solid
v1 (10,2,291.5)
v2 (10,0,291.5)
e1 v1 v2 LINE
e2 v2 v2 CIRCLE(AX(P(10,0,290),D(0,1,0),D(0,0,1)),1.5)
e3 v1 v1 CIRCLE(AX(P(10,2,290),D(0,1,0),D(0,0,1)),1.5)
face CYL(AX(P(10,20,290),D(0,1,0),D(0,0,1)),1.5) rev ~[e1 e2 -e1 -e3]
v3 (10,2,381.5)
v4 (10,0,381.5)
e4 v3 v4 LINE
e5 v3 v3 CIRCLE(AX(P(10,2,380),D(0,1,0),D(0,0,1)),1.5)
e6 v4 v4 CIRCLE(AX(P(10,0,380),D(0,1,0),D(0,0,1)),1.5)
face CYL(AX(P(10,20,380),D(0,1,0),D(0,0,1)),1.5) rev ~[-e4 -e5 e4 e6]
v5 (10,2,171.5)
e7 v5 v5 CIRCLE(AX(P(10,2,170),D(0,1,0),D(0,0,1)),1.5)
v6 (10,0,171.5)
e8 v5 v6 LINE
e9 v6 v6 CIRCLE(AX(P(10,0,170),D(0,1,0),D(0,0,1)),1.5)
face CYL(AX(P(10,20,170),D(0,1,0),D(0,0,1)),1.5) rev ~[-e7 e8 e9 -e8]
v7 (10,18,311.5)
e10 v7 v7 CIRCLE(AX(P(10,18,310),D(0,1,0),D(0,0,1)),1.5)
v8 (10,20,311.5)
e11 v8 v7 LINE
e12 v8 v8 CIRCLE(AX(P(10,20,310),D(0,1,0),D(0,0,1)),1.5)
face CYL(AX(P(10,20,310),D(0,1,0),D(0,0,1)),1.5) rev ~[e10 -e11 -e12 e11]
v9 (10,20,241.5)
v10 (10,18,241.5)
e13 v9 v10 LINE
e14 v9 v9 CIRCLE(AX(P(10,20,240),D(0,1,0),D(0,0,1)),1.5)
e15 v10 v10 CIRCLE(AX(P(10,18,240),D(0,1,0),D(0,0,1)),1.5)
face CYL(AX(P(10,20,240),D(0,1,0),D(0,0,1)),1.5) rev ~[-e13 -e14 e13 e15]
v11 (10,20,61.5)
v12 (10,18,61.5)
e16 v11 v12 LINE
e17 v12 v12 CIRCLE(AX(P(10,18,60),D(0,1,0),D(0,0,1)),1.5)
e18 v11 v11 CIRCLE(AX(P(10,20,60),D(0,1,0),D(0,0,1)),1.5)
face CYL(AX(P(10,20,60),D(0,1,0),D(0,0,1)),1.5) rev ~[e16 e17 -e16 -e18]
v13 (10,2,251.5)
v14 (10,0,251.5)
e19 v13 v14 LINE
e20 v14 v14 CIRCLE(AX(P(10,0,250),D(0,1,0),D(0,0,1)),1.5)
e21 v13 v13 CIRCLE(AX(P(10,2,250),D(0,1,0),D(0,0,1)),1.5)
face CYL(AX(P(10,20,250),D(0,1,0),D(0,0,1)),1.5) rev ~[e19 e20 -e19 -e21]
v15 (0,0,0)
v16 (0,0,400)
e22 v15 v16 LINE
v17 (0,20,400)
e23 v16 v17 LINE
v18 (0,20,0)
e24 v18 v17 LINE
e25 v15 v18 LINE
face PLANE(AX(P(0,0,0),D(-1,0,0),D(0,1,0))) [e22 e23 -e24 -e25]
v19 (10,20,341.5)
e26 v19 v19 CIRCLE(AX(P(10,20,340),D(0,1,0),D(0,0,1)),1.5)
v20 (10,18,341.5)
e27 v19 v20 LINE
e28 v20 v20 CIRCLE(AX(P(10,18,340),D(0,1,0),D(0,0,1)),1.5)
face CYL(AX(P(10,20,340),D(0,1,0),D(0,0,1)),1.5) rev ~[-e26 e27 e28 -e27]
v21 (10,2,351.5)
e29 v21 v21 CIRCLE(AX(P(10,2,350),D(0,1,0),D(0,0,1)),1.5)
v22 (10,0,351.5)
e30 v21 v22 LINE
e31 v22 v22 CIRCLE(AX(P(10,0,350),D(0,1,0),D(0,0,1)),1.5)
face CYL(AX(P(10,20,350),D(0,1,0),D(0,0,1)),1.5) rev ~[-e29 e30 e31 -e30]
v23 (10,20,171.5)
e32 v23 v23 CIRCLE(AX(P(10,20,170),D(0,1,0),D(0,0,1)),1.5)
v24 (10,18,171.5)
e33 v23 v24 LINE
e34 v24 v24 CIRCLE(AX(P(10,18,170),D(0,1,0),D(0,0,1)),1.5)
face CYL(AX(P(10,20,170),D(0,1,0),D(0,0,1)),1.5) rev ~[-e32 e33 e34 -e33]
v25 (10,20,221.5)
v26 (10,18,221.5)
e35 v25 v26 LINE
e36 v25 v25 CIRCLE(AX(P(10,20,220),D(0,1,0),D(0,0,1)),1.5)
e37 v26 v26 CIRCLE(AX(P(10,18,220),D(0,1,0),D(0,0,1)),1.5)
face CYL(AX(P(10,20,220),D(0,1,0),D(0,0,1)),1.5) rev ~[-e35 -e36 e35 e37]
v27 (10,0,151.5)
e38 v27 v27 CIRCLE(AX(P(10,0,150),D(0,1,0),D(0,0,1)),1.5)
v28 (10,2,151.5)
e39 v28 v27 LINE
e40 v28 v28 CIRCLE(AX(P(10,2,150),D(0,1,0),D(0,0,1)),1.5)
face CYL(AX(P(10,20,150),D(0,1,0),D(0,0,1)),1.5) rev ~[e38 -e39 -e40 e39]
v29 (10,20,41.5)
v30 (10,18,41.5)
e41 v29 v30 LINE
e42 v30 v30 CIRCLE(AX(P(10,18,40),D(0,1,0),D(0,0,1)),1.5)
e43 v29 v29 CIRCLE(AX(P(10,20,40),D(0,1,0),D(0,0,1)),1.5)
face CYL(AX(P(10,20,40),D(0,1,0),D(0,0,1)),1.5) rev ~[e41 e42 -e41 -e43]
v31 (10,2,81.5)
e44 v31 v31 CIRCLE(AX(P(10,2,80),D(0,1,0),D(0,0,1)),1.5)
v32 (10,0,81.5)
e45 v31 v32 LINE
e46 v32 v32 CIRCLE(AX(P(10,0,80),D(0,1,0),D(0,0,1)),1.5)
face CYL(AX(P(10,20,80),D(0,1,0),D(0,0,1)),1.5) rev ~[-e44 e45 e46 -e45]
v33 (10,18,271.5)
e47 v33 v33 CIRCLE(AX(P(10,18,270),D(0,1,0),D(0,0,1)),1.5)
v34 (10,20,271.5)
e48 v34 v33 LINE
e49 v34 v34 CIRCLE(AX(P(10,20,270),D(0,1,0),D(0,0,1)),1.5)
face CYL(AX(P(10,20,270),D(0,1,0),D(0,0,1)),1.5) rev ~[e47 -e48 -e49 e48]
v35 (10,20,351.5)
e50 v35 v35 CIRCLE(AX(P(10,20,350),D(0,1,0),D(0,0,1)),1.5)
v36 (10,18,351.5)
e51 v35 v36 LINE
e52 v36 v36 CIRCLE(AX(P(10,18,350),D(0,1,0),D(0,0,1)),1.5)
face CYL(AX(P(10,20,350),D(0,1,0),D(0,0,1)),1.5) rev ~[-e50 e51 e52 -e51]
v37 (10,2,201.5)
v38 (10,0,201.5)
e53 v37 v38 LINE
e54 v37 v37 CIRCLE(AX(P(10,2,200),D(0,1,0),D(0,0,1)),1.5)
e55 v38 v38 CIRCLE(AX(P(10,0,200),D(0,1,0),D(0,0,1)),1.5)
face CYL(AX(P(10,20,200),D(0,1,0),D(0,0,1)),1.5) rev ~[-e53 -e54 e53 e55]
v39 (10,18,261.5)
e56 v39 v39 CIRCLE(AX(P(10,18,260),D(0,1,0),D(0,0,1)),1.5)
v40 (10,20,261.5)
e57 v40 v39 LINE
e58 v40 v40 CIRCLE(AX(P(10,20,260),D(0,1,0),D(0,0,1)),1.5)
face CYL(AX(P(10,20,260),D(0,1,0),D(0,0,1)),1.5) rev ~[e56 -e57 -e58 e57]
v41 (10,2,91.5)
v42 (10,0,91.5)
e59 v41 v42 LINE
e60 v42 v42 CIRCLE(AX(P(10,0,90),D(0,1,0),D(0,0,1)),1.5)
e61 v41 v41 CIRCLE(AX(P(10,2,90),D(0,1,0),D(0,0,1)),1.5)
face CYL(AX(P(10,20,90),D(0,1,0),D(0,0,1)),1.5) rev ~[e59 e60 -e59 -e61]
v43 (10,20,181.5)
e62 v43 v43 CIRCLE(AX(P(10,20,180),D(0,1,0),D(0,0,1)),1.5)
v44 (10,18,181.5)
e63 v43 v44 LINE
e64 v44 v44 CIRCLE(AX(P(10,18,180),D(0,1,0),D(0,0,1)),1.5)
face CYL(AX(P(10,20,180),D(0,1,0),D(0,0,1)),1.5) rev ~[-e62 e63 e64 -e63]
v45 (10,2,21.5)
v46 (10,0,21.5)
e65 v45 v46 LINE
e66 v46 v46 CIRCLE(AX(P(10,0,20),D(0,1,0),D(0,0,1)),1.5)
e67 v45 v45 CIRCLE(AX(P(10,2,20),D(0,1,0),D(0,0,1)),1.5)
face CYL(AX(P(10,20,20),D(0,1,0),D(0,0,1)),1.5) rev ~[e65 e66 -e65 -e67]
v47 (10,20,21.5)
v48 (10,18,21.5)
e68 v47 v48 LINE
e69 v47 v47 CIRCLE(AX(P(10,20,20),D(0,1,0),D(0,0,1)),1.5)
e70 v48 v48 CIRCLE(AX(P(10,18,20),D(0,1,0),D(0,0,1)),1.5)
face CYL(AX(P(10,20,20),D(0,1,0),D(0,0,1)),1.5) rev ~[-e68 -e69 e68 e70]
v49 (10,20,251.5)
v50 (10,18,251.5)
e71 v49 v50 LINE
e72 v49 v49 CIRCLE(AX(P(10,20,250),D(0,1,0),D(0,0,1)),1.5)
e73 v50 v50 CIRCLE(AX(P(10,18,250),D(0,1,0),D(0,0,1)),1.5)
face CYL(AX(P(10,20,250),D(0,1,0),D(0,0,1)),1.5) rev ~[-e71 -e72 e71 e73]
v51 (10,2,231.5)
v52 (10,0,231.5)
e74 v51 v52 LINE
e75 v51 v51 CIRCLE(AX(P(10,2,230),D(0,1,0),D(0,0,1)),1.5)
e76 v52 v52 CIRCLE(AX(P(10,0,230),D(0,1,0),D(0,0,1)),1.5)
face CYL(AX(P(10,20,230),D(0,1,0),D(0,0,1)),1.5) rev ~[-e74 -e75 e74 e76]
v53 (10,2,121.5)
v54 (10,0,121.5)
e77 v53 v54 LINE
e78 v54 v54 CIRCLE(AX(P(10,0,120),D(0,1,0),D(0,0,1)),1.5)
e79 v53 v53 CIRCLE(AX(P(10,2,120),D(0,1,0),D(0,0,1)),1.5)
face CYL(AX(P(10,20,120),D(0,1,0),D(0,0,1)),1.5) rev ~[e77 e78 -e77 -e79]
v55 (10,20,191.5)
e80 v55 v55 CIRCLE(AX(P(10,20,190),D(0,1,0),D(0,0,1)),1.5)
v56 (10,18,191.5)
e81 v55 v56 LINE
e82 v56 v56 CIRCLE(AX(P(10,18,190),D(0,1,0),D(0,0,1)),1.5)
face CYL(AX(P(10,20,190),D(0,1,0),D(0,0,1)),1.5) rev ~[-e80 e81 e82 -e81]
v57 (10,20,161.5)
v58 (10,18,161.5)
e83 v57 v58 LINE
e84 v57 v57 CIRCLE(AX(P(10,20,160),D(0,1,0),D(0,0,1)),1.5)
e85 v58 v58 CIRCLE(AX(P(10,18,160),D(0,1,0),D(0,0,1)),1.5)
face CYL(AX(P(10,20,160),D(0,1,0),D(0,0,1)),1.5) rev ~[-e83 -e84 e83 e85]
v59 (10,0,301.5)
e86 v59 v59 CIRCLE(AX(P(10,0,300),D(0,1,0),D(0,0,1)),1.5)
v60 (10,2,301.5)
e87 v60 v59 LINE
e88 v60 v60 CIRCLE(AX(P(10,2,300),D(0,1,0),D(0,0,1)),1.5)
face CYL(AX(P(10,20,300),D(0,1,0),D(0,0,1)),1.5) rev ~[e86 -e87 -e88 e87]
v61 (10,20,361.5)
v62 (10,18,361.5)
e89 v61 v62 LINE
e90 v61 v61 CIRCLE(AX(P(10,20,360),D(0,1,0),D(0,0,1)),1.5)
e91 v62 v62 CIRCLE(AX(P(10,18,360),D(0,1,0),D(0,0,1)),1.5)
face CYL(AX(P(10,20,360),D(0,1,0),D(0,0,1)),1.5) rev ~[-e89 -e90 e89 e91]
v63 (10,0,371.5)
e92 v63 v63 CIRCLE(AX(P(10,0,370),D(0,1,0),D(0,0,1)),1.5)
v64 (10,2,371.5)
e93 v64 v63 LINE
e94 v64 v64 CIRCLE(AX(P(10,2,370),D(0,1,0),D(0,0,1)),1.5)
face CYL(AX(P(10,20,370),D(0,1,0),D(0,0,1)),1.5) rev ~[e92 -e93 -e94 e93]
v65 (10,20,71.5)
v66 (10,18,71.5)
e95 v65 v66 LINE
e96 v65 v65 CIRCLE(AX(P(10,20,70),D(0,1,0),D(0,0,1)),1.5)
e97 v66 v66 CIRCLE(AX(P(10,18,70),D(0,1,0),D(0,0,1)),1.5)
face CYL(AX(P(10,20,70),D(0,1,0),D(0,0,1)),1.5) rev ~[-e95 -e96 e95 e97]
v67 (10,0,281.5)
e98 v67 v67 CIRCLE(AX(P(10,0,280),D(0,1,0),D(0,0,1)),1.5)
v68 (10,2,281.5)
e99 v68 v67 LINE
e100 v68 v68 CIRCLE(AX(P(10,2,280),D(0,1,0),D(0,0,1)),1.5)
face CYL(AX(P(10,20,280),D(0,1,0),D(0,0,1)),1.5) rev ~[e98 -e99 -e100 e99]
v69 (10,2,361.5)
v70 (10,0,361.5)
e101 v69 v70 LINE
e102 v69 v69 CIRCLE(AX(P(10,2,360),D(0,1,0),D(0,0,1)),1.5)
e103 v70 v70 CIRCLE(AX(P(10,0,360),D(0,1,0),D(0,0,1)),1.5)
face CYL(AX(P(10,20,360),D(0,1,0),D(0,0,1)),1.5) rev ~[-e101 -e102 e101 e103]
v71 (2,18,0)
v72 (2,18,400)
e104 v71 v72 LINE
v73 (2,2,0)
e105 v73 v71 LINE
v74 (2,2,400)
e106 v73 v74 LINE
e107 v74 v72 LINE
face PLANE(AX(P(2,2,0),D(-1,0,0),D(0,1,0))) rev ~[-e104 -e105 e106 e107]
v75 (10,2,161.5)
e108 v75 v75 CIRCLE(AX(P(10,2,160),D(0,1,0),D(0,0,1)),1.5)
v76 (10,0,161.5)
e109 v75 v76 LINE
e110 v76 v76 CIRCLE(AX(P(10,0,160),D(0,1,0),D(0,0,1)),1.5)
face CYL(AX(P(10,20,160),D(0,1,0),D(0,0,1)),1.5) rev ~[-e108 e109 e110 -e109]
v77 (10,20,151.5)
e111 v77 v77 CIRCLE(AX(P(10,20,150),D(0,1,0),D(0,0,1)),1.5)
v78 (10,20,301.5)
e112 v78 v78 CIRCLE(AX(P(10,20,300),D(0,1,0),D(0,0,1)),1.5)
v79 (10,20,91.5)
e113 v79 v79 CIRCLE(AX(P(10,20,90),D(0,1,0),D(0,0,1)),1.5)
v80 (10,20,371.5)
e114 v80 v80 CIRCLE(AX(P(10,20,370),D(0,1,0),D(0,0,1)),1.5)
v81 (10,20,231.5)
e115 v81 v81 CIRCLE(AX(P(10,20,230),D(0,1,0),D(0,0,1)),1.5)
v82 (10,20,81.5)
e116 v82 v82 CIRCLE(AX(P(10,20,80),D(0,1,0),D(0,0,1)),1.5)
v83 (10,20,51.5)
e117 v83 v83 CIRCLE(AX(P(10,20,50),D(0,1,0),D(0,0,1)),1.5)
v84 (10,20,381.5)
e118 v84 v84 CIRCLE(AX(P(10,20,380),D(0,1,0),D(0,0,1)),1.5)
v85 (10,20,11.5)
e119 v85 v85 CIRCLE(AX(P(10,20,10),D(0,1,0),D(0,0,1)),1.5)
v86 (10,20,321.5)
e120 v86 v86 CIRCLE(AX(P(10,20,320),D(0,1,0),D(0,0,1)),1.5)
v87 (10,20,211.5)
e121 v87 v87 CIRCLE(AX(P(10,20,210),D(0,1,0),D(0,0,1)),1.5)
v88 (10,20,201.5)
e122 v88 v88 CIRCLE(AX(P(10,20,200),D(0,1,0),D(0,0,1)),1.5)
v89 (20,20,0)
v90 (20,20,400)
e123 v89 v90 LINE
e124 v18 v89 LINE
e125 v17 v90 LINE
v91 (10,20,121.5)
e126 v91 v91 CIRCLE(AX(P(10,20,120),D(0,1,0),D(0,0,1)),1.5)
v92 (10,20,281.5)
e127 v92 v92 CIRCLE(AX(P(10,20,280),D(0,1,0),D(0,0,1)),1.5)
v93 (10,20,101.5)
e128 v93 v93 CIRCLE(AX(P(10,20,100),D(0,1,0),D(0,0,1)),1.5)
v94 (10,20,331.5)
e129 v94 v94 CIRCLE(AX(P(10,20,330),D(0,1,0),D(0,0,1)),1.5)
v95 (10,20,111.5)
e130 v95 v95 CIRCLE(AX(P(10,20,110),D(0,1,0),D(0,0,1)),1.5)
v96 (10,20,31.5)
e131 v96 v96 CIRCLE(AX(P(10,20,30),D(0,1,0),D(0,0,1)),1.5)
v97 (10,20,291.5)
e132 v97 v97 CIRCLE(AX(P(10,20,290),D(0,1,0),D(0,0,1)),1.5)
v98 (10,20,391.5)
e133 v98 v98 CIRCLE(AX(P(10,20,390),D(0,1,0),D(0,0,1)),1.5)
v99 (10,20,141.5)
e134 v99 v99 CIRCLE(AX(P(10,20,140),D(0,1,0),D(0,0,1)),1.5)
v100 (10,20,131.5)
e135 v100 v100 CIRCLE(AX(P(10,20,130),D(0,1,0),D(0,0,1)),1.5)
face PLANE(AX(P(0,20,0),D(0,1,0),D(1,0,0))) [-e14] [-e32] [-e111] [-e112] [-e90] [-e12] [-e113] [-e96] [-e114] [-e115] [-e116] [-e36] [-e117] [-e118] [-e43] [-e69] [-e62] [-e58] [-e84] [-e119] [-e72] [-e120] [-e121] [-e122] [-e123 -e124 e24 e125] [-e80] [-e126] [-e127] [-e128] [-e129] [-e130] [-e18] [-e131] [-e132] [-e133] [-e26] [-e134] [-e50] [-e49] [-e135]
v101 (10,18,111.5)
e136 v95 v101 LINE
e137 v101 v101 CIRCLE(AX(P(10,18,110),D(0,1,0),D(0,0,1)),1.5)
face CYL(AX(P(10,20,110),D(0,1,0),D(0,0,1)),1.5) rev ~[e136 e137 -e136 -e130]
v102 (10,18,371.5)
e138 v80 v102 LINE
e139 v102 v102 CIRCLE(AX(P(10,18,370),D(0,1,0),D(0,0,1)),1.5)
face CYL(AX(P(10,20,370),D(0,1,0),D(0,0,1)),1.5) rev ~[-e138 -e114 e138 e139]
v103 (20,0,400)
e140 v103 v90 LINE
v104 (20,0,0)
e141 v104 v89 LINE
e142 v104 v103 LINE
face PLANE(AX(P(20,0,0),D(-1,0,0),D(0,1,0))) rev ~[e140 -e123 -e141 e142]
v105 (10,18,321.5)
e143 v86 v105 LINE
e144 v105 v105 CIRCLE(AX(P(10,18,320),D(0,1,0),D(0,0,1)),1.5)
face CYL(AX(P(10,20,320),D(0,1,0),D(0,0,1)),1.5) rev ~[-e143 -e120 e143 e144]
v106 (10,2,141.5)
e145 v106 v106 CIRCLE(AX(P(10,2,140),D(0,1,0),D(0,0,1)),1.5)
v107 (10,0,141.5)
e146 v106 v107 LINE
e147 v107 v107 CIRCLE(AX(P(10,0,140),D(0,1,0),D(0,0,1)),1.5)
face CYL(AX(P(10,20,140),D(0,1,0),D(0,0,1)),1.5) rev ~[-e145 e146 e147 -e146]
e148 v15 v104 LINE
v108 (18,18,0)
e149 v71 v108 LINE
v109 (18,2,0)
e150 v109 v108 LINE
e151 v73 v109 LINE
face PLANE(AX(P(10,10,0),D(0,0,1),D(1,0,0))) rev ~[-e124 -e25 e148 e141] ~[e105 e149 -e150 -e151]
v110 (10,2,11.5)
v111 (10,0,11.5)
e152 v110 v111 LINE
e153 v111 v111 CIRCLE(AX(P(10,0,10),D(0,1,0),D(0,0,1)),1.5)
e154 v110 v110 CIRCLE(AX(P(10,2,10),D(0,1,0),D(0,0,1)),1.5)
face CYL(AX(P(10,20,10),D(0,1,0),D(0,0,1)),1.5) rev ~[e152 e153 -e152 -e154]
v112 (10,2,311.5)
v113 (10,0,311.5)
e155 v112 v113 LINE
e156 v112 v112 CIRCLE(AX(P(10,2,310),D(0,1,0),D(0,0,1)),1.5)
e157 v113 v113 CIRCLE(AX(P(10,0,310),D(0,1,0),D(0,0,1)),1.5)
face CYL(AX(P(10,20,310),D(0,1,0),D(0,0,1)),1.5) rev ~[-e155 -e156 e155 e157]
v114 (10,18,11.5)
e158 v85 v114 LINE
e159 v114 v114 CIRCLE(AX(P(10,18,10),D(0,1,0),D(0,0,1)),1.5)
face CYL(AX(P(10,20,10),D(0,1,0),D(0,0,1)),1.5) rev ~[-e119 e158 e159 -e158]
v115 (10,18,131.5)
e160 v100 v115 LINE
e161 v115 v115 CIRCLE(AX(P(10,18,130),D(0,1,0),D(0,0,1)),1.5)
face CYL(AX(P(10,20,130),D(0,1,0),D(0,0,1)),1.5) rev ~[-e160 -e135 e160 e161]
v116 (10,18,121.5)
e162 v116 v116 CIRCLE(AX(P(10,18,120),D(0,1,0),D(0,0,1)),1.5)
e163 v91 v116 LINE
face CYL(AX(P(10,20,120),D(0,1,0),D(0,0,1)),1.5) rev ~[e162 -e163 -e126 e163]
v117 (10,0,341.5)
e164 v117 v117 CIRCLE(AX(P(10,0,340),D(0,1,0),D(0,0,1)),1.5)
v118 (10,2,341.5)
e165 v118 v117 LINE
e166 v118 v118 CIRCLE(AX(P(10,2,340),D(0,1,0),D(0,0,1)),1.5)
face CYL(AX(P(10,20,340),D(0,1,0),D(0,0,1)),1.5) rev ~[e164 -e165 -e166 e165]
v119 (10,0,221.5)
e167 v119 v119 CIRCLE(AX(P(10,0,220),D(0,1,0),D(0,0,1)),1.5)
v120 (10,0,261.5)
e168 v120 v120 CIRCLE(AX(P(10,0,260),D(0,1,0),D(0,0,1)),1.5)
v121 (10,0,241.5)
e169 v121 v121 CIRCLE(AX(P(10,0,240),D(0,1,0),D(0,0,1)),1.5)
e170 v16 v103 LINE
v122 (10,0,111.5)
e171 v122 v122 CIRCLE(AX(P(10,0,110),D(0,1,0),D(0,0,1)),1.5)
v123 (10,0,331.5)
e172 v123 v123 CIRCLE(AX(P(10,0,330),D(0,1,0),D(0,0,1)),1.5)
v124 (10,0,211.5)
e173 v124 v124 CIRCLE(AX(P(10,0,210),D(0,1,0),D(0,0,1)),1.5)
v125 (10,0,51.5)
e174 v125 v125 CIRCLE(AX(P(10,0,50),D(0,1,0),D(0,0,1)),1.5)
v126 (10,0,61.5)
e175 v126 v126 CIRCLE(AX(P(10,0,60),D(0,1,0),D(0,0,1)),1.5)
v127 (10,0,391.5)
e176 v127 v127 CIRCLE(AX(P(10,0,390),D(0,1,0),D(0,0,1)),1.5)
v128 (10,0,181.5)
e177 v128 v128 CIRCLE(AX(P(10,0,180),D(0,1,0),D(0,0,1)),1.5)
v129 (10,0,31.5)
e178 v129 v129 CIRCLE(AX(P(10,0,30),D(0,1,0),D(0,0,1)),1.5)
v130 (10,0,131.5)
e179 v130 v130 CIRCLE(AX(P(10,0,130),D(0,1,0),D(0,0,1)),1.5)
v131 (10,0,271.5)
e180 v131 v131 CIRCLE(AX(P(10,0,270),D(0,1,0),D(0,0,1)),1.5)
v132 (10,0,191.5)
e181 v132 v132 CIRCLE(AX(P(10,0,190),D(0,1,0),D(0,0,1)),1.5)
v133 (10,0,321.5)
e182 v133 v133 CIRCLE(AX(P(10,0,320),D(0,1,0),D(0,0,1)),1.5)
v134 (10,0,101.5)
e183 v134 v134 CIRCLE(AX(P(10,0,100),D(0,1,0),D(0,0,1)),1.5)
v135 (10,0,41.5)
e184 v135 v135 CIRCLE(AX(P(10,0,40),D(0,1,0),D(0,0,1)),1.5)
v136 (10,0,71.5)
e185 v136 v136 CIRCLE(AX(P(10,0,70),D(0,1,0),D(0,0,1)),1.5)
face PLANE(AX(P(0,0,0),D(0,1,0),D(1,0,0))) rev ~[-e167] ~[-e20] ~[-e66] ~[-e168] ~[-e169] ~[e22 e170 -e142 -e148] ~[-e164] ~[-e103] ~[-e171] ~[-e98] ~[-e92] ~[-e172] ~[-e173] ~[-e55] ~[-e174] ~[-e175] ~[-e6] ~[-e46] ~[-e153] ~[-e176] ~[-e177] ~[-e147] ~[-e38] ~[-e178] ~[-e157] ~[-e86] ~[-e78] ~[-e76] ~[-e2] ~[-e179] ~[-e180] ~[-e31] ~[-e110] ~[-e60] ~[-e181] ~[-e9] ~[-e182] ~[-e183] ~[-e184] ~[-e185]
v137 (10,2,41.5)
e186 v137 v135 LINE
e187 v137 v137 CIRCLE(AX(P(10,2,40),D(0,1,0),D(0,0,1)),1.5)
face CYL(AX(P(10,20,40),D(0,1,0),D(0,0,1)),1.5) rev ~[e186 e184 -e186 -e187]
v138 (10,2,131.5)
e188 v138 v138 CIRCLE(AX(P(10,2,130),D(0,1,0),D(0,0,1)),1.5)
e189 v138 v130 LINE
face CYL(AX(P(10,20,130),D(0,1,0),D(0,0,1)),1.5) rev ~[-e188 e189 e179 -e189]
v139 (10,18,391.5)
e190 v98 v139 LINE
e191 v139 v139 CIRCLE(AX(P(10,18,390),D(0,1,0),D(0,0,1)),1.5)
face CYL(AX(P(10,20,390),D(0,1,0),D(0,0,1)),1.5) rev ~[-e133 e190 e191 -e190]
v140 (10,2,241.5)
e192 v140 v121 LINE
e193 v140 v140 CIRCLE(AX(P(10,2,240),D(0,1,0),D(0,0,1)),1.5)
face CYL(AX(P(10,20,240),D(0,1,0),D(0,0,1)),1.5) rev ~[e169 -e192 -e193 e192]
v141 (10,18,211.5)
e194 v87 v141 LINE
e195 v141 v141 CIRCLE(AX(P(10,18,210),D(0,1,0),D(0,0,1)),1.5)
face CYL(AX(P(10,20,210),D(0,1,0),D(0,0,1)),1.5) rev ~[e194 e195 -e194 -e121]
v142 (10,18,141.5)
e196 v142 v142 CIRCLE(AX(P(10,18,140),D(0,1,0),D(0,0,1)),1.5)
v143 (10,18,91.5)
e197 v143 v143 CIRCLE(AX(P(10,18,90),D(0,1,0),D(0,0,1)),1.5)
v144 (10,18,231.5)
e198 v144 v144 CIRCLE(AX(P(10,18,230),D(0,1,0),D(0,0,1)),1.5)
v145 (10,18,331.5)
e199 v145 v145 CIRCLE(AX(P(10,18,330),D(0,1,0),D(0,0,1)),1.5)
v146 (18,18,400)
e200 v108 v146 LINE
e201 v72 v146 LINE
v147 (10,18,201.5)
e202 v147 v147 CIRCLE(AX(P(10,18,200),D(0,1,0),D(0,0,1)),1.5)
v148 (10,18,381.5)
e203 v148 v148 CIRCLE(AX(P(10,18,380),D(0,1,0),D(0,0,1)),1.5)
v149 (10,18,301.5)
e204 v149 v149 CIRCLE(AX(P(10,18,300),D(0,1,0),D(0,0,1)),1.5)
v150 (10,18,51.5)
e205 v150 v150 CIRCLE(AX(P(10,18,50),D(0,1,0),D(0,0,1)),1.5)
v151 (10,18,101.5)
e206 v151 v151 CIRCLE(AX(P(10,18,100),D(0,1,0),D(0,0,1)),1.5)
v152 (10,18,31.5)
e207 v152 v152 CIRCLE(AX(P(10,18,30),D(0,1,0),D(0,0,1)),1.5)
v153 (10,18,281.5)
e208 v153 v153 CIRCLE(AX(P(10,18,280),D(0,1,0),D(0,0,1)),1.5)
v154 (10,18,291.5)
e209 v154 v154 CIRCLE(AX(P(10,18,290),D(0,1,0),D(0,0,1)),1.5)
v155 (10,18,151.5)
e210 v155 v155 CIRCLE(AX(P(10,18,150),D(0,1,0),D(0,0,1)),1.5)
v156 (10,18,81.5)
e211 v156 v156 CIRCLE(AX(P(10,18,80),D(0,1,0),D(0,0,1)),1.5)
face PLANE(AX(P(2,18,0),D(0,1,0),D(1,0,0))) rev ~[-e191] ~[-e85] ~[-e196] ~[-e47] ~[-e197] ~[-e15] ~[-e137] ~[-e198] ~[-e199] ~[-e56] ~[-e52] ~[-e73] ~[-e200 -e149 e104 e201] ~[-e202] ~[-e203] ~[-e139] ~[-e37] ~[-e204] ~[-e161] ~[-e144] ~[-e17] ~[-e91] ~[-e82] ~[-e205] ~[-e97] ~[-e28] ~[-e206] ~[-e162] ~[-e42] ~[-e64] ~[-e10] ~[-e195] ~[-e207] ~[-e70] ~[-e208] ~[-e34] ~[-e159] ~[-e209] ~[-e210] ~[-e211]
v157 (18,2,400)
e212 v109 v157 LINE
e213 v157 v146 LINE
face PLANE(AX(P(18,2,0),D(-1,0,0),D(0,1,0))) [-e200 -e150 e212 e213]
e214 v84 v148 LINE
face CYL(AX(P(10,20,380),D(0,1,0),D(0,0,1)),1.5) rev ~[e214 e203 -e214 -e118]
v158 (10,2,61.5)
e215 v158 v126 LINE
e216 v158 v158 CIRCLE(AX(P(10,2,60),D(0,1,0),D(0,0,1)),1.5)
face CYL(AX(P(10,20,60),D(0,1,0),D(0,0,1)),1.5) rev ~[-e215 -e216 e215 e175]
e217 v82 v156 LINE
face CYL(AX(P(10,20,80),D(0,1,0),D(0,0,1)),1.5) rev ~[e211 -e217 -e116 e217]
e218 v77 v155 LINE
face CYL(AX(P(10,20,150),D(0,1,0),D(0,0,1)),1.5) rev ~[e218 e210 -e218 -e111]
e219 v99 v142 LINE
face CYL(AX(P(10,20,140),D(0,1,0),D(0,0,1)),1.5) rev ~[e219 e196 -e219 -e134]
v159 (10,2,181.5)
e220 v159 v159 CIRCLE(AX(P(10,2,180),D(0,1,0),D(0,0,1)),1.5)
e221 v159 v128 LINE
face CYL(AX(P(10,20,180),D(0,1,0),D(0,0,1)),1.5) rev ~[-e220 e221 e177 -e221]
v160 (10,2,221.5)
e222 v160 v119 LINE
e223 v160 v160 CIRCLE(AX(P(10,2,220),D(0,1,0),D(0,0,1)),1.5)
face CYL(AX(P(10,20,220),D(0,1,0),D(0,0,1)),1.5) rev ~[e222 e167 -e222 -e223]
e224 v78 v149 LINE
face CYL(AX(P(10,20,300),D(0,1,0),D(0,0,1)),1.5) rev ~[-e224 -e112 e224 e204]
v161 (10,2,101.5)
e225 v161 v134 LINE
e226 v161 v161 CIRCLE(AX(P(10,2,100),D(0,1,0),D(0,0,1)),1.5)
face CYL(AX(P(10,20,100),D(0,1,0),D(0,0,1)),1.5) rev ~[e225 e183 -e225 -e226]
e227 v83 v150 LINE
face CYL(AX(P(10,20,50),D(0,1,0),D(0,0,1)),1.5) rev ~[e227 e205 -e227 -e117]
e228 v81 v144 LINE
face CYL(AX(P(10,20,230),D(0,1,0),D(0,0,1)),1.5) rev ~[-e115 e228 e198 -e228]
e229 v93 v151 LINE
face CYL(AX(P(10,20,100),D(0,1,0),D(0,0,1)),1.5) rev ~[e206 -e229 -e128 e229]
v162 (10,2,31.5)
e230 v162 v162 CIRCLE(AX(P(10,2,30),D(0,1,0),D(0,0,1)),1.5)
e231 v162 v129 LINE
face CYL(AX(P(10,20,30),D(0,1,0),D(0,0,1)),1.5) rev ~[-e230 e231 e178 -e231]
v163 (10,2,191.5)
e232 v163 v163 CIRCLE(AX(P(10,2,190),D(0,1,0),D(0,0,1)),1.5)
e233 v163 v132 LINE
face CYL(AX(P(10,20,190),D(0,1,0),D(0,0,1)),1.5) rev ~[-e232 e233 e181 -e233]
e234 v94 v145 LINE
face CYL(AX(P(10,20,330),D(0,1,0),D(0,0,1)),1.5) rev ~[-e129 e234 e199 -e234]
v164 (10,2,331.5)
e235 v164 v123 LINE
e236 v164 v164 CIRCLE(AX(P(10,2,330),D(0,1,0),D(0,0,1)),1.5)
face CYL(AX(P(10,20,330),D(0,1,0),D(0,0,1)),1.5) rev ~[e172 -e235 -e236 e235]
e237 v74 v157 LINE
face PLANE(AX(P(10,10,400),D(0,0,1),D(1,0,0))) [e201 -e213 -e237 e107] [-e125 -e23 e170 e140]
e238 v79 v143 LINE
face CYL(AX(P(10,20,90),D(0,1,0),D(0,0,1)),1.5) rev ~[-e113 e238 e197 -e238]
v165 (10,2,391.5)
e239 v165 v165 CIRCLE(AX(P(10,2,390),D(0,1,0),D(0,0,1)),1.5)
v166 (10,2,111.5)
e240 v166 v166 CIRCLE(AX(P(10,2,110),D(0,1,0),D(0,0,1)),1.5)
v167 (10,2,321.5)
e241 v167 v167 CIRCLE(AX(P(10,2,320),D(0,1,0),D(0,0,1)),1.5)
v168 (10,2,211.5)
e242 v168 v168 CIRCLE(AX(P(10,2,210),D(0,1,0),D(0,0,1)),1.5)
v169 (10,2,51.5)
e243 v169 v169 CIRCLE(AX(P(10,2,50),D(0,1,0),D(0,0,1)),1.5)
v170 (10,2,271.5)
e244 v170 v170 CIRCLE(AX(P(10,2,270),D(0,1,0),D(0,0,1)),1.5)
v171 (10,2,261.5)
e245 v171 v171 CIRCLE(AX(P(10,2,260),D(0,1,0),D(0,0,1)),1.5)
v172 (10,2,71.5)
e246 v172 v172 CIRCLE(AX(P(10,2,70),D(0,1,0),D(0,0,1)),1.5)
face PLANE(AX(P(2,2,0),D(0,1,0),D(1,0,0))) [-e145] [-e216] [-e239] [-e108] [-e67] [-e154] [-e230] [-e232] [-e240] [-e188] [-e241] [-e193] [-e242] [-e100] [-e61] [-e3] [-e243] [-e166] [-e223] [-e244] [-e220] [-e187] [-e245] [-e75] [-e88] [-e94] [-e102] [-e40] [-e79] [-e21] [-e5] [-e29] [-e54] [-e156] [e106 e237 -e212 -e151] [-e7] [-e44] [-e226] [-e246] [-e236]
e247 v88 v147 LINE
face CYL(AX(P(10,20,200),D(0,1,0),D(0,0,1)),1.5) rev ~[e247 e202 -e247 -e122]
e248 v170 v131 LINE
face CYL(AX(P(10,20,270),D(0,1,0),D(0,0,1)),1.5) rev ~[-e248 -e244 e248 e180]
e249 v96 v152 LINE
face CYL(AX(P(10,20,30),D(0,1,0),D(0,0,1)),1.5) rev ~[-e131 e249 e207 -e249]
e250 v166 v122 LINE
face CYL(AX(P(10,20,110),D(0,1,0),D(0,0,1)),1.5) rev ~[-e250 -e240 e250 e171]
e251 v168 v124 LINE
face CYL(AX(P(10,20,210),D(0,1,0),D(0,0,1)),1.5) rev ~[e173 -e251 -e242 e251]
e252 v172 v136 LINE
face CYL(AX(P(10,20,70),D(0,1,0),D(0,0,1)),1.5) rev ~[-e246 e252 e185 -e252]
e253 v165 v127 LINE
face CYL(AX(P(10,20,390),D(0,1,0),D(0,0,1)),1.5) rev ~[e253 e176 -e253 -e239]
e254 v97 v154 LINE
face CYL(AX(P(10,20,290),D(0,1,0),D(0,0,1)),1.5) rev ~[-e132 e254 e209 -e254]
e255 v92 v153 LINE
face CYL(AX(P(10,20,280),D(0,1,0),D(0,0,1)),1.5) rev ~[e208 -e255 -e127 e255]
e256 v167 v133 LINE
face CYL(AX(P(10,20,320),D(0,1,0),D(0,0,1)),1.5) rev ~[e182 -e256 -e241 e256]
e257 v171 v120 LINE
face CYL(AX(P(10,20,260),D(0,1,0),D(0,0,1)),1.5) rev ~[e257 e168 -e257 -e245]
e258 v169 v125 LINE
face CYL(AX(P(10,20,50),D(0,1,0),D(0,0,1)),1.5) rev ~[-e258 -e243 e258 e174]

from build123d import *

# Parameters (mm, degrees)
SKETCH_1_W          = 20
SKETCH_1_H          = 20
SKETCH_1_W_2        = 16
SKETCH_1_H_2        = 16
EXTRUDE_1_DEPTH     = 400
SKETCH_9_R          = 1.5
CUT_EXTRUDE_6_DEPTH = 401.998753115


with BuildPart() as part:
    # 草图1 → 凸台-拉伸1 (new body)
    with BuildSketch(Plane.XY):
        with Locations((10, 10)):
            Rectangle(SKETCH_1_W, SKETCH_1_H)
        with Locations((10, 10)):
            Rectangle(SKETCH_1_W_2, SKETCH_1_H_2, mode=Mode.SUBTRACT)
    extrude(amount=EXTRUDE_1_DEPTH)

    # 草图9 → 切除-拉伸6 (cut, through all)
    with BuildSketch(Plane(origin=(0, 20, 0), x_dir=(1, 0, 0), z_dir=(0, 1, 0))):
        with Locations(Location((10, -390, 0), (0, 0, 270))):
            Circle(SKETCH_9_R)
        with Locations(Location((10, -380, 0), (0, 0, 270))):
            Circle(SKETCH_9_R)
        with Locations(Location((10, -370, 0), (0, 0, 270))):
            Circle(SKETCH_9_R)
        with Locations(Location((10, -360, 0), (0, 0, 270))):
            Circle(SKETCH_9_R)
        with Locations(Location((10, -350, 0), (0, 0, 270))):
            Circle(SKETCH_9_R)
        with Locations(Location((10, -340, 0), (0, 0, 270))):
            Circle(SKETCH_9_R)
        with Locations(Location((10, -330, 0), (0, 0, 270))):
            Circle(SKETCH_9_R)
        with Locations(Location((10, -320, 0), (0, 0, 270))):
            Circle(SKETCH_9_R)
        with Locations(Location((10, -310, 0), (0, 0, 270))):
            Circle(SKETCH_9_R)
        with Locations(Location((10, -300, 0), (0, 0, 270))):
            Circle(SKETCH_9_R)
        with Locations(Location((10, -290, 0), (0, 0, 270))):
            Circle(SKETCH_9_R)
        with Locations(Location((10, -280, 0), (0, 0, 270))):
            Circle(SKETCH_9_R)
        with Locations(Location((10, -270, 0), (0, 0, 270))):
            Circle(SKETCH_9_R)
        with Locations(Location((10, -260, 0), (0, 0, 270))):
            Circle(SKETCH_9_R)
        with Locations(Location((10, -250, 0), (0, 0, 270))):
            Circle(SKETCH_9_R)
        with Locations(Location((10, -240, 0), (0, 0, 270))):
            Circle(SKETCH_9_R)
        with Locations(Location((10, -230, 0), (0, 0, 270))):
            Circle(SKETCH_9_R)
        with Locations(Location((10, -220, 0), (0, 0, 270))):
            Circle(SKETCH_9_R)
        with Locations(Location((10, -210, 0), (0, 0, 270))):
            Circle(SKETCH_9_R)
        with Locations(Location((10, -200, 0), (0, 0, 270))):
            Circle(SKETCH_9_R)
        with Locations(Location((10, -190, 0), (0, 0, 270))):
            Circle(SKETCH_9_R)
        with Locations(Location((10, -180, 0), (0, 0, 270))):
            Circle(SKETCH_9_R)
        with Locations(Location((10, -170, 0), (0, 0, 270))):
            Circle(SKETCH_9_R)
        with Locations(Location((10, -160, 0), (0, 0, 270))):
            Circle(SKETCH_9_R)
        with Locations(Location((10, -150, 0), (0, 0, 270))):
            Circle(SKETCH_9_R)
        with Locations(Location((10, -140, 0), (0, 0, 270))):
            Circle(SKETCH_9_R)
        with Locations(Location((10, -130, 0), (0, 0, 270))):
            Circle(SKETCH_9_R)
        with Locations(Location((10, -120, 0), (0, 0, 270))):
            Circle(SKETCH_9_R)
        with Locations(Location((10, -110, 0), (0, 0, 270))):
            Circle(SKETCH_9_R)
        with Locations(Location((10, -100, 0), (0, 0, 270))):
            Circle(SKETCH_9_R)
        with Locations(Location((10, -90, 0), (0, 0, 270))):
            Circle(SKETCH_9_R)
        with Locations(Location((10, -80, 0), (0, 0, 270))):
            Circle(SKETCH_9_R)
        with Locations(Location((10, -70, 0), (0, 0, 270))):
            Circle(SKETCH_9_R)
        with Locations(Location((10, -60, 0), (0, 0, 270))):
            Circle(SKETCH_9_R)
        with Locations(Location((10, -50, 0), (0, 0, 270))):
            Circle(SKETCH_9_R)
        with Locations(Location((10, -40, 0), (0, 0, 270))):
            Circle(SKETCH_9_R)
        with Locations(Location((10, -30, 0), (0, 0, 270))):
            Circle(SKETCH_9_R)
        with Locations(Location((10, -20, 0), (0, 0, 270))):
            Circle(SKETCH_9_R)
        with Locations(Location((10, -10, 0), (0, 0, 270))):
            Circle(SKETCH_9_R)
    extrude(amount=-CUT_EXTRUDE_6_DEPTH, mode=Mode.SUBTRACT)


solid = part.part
